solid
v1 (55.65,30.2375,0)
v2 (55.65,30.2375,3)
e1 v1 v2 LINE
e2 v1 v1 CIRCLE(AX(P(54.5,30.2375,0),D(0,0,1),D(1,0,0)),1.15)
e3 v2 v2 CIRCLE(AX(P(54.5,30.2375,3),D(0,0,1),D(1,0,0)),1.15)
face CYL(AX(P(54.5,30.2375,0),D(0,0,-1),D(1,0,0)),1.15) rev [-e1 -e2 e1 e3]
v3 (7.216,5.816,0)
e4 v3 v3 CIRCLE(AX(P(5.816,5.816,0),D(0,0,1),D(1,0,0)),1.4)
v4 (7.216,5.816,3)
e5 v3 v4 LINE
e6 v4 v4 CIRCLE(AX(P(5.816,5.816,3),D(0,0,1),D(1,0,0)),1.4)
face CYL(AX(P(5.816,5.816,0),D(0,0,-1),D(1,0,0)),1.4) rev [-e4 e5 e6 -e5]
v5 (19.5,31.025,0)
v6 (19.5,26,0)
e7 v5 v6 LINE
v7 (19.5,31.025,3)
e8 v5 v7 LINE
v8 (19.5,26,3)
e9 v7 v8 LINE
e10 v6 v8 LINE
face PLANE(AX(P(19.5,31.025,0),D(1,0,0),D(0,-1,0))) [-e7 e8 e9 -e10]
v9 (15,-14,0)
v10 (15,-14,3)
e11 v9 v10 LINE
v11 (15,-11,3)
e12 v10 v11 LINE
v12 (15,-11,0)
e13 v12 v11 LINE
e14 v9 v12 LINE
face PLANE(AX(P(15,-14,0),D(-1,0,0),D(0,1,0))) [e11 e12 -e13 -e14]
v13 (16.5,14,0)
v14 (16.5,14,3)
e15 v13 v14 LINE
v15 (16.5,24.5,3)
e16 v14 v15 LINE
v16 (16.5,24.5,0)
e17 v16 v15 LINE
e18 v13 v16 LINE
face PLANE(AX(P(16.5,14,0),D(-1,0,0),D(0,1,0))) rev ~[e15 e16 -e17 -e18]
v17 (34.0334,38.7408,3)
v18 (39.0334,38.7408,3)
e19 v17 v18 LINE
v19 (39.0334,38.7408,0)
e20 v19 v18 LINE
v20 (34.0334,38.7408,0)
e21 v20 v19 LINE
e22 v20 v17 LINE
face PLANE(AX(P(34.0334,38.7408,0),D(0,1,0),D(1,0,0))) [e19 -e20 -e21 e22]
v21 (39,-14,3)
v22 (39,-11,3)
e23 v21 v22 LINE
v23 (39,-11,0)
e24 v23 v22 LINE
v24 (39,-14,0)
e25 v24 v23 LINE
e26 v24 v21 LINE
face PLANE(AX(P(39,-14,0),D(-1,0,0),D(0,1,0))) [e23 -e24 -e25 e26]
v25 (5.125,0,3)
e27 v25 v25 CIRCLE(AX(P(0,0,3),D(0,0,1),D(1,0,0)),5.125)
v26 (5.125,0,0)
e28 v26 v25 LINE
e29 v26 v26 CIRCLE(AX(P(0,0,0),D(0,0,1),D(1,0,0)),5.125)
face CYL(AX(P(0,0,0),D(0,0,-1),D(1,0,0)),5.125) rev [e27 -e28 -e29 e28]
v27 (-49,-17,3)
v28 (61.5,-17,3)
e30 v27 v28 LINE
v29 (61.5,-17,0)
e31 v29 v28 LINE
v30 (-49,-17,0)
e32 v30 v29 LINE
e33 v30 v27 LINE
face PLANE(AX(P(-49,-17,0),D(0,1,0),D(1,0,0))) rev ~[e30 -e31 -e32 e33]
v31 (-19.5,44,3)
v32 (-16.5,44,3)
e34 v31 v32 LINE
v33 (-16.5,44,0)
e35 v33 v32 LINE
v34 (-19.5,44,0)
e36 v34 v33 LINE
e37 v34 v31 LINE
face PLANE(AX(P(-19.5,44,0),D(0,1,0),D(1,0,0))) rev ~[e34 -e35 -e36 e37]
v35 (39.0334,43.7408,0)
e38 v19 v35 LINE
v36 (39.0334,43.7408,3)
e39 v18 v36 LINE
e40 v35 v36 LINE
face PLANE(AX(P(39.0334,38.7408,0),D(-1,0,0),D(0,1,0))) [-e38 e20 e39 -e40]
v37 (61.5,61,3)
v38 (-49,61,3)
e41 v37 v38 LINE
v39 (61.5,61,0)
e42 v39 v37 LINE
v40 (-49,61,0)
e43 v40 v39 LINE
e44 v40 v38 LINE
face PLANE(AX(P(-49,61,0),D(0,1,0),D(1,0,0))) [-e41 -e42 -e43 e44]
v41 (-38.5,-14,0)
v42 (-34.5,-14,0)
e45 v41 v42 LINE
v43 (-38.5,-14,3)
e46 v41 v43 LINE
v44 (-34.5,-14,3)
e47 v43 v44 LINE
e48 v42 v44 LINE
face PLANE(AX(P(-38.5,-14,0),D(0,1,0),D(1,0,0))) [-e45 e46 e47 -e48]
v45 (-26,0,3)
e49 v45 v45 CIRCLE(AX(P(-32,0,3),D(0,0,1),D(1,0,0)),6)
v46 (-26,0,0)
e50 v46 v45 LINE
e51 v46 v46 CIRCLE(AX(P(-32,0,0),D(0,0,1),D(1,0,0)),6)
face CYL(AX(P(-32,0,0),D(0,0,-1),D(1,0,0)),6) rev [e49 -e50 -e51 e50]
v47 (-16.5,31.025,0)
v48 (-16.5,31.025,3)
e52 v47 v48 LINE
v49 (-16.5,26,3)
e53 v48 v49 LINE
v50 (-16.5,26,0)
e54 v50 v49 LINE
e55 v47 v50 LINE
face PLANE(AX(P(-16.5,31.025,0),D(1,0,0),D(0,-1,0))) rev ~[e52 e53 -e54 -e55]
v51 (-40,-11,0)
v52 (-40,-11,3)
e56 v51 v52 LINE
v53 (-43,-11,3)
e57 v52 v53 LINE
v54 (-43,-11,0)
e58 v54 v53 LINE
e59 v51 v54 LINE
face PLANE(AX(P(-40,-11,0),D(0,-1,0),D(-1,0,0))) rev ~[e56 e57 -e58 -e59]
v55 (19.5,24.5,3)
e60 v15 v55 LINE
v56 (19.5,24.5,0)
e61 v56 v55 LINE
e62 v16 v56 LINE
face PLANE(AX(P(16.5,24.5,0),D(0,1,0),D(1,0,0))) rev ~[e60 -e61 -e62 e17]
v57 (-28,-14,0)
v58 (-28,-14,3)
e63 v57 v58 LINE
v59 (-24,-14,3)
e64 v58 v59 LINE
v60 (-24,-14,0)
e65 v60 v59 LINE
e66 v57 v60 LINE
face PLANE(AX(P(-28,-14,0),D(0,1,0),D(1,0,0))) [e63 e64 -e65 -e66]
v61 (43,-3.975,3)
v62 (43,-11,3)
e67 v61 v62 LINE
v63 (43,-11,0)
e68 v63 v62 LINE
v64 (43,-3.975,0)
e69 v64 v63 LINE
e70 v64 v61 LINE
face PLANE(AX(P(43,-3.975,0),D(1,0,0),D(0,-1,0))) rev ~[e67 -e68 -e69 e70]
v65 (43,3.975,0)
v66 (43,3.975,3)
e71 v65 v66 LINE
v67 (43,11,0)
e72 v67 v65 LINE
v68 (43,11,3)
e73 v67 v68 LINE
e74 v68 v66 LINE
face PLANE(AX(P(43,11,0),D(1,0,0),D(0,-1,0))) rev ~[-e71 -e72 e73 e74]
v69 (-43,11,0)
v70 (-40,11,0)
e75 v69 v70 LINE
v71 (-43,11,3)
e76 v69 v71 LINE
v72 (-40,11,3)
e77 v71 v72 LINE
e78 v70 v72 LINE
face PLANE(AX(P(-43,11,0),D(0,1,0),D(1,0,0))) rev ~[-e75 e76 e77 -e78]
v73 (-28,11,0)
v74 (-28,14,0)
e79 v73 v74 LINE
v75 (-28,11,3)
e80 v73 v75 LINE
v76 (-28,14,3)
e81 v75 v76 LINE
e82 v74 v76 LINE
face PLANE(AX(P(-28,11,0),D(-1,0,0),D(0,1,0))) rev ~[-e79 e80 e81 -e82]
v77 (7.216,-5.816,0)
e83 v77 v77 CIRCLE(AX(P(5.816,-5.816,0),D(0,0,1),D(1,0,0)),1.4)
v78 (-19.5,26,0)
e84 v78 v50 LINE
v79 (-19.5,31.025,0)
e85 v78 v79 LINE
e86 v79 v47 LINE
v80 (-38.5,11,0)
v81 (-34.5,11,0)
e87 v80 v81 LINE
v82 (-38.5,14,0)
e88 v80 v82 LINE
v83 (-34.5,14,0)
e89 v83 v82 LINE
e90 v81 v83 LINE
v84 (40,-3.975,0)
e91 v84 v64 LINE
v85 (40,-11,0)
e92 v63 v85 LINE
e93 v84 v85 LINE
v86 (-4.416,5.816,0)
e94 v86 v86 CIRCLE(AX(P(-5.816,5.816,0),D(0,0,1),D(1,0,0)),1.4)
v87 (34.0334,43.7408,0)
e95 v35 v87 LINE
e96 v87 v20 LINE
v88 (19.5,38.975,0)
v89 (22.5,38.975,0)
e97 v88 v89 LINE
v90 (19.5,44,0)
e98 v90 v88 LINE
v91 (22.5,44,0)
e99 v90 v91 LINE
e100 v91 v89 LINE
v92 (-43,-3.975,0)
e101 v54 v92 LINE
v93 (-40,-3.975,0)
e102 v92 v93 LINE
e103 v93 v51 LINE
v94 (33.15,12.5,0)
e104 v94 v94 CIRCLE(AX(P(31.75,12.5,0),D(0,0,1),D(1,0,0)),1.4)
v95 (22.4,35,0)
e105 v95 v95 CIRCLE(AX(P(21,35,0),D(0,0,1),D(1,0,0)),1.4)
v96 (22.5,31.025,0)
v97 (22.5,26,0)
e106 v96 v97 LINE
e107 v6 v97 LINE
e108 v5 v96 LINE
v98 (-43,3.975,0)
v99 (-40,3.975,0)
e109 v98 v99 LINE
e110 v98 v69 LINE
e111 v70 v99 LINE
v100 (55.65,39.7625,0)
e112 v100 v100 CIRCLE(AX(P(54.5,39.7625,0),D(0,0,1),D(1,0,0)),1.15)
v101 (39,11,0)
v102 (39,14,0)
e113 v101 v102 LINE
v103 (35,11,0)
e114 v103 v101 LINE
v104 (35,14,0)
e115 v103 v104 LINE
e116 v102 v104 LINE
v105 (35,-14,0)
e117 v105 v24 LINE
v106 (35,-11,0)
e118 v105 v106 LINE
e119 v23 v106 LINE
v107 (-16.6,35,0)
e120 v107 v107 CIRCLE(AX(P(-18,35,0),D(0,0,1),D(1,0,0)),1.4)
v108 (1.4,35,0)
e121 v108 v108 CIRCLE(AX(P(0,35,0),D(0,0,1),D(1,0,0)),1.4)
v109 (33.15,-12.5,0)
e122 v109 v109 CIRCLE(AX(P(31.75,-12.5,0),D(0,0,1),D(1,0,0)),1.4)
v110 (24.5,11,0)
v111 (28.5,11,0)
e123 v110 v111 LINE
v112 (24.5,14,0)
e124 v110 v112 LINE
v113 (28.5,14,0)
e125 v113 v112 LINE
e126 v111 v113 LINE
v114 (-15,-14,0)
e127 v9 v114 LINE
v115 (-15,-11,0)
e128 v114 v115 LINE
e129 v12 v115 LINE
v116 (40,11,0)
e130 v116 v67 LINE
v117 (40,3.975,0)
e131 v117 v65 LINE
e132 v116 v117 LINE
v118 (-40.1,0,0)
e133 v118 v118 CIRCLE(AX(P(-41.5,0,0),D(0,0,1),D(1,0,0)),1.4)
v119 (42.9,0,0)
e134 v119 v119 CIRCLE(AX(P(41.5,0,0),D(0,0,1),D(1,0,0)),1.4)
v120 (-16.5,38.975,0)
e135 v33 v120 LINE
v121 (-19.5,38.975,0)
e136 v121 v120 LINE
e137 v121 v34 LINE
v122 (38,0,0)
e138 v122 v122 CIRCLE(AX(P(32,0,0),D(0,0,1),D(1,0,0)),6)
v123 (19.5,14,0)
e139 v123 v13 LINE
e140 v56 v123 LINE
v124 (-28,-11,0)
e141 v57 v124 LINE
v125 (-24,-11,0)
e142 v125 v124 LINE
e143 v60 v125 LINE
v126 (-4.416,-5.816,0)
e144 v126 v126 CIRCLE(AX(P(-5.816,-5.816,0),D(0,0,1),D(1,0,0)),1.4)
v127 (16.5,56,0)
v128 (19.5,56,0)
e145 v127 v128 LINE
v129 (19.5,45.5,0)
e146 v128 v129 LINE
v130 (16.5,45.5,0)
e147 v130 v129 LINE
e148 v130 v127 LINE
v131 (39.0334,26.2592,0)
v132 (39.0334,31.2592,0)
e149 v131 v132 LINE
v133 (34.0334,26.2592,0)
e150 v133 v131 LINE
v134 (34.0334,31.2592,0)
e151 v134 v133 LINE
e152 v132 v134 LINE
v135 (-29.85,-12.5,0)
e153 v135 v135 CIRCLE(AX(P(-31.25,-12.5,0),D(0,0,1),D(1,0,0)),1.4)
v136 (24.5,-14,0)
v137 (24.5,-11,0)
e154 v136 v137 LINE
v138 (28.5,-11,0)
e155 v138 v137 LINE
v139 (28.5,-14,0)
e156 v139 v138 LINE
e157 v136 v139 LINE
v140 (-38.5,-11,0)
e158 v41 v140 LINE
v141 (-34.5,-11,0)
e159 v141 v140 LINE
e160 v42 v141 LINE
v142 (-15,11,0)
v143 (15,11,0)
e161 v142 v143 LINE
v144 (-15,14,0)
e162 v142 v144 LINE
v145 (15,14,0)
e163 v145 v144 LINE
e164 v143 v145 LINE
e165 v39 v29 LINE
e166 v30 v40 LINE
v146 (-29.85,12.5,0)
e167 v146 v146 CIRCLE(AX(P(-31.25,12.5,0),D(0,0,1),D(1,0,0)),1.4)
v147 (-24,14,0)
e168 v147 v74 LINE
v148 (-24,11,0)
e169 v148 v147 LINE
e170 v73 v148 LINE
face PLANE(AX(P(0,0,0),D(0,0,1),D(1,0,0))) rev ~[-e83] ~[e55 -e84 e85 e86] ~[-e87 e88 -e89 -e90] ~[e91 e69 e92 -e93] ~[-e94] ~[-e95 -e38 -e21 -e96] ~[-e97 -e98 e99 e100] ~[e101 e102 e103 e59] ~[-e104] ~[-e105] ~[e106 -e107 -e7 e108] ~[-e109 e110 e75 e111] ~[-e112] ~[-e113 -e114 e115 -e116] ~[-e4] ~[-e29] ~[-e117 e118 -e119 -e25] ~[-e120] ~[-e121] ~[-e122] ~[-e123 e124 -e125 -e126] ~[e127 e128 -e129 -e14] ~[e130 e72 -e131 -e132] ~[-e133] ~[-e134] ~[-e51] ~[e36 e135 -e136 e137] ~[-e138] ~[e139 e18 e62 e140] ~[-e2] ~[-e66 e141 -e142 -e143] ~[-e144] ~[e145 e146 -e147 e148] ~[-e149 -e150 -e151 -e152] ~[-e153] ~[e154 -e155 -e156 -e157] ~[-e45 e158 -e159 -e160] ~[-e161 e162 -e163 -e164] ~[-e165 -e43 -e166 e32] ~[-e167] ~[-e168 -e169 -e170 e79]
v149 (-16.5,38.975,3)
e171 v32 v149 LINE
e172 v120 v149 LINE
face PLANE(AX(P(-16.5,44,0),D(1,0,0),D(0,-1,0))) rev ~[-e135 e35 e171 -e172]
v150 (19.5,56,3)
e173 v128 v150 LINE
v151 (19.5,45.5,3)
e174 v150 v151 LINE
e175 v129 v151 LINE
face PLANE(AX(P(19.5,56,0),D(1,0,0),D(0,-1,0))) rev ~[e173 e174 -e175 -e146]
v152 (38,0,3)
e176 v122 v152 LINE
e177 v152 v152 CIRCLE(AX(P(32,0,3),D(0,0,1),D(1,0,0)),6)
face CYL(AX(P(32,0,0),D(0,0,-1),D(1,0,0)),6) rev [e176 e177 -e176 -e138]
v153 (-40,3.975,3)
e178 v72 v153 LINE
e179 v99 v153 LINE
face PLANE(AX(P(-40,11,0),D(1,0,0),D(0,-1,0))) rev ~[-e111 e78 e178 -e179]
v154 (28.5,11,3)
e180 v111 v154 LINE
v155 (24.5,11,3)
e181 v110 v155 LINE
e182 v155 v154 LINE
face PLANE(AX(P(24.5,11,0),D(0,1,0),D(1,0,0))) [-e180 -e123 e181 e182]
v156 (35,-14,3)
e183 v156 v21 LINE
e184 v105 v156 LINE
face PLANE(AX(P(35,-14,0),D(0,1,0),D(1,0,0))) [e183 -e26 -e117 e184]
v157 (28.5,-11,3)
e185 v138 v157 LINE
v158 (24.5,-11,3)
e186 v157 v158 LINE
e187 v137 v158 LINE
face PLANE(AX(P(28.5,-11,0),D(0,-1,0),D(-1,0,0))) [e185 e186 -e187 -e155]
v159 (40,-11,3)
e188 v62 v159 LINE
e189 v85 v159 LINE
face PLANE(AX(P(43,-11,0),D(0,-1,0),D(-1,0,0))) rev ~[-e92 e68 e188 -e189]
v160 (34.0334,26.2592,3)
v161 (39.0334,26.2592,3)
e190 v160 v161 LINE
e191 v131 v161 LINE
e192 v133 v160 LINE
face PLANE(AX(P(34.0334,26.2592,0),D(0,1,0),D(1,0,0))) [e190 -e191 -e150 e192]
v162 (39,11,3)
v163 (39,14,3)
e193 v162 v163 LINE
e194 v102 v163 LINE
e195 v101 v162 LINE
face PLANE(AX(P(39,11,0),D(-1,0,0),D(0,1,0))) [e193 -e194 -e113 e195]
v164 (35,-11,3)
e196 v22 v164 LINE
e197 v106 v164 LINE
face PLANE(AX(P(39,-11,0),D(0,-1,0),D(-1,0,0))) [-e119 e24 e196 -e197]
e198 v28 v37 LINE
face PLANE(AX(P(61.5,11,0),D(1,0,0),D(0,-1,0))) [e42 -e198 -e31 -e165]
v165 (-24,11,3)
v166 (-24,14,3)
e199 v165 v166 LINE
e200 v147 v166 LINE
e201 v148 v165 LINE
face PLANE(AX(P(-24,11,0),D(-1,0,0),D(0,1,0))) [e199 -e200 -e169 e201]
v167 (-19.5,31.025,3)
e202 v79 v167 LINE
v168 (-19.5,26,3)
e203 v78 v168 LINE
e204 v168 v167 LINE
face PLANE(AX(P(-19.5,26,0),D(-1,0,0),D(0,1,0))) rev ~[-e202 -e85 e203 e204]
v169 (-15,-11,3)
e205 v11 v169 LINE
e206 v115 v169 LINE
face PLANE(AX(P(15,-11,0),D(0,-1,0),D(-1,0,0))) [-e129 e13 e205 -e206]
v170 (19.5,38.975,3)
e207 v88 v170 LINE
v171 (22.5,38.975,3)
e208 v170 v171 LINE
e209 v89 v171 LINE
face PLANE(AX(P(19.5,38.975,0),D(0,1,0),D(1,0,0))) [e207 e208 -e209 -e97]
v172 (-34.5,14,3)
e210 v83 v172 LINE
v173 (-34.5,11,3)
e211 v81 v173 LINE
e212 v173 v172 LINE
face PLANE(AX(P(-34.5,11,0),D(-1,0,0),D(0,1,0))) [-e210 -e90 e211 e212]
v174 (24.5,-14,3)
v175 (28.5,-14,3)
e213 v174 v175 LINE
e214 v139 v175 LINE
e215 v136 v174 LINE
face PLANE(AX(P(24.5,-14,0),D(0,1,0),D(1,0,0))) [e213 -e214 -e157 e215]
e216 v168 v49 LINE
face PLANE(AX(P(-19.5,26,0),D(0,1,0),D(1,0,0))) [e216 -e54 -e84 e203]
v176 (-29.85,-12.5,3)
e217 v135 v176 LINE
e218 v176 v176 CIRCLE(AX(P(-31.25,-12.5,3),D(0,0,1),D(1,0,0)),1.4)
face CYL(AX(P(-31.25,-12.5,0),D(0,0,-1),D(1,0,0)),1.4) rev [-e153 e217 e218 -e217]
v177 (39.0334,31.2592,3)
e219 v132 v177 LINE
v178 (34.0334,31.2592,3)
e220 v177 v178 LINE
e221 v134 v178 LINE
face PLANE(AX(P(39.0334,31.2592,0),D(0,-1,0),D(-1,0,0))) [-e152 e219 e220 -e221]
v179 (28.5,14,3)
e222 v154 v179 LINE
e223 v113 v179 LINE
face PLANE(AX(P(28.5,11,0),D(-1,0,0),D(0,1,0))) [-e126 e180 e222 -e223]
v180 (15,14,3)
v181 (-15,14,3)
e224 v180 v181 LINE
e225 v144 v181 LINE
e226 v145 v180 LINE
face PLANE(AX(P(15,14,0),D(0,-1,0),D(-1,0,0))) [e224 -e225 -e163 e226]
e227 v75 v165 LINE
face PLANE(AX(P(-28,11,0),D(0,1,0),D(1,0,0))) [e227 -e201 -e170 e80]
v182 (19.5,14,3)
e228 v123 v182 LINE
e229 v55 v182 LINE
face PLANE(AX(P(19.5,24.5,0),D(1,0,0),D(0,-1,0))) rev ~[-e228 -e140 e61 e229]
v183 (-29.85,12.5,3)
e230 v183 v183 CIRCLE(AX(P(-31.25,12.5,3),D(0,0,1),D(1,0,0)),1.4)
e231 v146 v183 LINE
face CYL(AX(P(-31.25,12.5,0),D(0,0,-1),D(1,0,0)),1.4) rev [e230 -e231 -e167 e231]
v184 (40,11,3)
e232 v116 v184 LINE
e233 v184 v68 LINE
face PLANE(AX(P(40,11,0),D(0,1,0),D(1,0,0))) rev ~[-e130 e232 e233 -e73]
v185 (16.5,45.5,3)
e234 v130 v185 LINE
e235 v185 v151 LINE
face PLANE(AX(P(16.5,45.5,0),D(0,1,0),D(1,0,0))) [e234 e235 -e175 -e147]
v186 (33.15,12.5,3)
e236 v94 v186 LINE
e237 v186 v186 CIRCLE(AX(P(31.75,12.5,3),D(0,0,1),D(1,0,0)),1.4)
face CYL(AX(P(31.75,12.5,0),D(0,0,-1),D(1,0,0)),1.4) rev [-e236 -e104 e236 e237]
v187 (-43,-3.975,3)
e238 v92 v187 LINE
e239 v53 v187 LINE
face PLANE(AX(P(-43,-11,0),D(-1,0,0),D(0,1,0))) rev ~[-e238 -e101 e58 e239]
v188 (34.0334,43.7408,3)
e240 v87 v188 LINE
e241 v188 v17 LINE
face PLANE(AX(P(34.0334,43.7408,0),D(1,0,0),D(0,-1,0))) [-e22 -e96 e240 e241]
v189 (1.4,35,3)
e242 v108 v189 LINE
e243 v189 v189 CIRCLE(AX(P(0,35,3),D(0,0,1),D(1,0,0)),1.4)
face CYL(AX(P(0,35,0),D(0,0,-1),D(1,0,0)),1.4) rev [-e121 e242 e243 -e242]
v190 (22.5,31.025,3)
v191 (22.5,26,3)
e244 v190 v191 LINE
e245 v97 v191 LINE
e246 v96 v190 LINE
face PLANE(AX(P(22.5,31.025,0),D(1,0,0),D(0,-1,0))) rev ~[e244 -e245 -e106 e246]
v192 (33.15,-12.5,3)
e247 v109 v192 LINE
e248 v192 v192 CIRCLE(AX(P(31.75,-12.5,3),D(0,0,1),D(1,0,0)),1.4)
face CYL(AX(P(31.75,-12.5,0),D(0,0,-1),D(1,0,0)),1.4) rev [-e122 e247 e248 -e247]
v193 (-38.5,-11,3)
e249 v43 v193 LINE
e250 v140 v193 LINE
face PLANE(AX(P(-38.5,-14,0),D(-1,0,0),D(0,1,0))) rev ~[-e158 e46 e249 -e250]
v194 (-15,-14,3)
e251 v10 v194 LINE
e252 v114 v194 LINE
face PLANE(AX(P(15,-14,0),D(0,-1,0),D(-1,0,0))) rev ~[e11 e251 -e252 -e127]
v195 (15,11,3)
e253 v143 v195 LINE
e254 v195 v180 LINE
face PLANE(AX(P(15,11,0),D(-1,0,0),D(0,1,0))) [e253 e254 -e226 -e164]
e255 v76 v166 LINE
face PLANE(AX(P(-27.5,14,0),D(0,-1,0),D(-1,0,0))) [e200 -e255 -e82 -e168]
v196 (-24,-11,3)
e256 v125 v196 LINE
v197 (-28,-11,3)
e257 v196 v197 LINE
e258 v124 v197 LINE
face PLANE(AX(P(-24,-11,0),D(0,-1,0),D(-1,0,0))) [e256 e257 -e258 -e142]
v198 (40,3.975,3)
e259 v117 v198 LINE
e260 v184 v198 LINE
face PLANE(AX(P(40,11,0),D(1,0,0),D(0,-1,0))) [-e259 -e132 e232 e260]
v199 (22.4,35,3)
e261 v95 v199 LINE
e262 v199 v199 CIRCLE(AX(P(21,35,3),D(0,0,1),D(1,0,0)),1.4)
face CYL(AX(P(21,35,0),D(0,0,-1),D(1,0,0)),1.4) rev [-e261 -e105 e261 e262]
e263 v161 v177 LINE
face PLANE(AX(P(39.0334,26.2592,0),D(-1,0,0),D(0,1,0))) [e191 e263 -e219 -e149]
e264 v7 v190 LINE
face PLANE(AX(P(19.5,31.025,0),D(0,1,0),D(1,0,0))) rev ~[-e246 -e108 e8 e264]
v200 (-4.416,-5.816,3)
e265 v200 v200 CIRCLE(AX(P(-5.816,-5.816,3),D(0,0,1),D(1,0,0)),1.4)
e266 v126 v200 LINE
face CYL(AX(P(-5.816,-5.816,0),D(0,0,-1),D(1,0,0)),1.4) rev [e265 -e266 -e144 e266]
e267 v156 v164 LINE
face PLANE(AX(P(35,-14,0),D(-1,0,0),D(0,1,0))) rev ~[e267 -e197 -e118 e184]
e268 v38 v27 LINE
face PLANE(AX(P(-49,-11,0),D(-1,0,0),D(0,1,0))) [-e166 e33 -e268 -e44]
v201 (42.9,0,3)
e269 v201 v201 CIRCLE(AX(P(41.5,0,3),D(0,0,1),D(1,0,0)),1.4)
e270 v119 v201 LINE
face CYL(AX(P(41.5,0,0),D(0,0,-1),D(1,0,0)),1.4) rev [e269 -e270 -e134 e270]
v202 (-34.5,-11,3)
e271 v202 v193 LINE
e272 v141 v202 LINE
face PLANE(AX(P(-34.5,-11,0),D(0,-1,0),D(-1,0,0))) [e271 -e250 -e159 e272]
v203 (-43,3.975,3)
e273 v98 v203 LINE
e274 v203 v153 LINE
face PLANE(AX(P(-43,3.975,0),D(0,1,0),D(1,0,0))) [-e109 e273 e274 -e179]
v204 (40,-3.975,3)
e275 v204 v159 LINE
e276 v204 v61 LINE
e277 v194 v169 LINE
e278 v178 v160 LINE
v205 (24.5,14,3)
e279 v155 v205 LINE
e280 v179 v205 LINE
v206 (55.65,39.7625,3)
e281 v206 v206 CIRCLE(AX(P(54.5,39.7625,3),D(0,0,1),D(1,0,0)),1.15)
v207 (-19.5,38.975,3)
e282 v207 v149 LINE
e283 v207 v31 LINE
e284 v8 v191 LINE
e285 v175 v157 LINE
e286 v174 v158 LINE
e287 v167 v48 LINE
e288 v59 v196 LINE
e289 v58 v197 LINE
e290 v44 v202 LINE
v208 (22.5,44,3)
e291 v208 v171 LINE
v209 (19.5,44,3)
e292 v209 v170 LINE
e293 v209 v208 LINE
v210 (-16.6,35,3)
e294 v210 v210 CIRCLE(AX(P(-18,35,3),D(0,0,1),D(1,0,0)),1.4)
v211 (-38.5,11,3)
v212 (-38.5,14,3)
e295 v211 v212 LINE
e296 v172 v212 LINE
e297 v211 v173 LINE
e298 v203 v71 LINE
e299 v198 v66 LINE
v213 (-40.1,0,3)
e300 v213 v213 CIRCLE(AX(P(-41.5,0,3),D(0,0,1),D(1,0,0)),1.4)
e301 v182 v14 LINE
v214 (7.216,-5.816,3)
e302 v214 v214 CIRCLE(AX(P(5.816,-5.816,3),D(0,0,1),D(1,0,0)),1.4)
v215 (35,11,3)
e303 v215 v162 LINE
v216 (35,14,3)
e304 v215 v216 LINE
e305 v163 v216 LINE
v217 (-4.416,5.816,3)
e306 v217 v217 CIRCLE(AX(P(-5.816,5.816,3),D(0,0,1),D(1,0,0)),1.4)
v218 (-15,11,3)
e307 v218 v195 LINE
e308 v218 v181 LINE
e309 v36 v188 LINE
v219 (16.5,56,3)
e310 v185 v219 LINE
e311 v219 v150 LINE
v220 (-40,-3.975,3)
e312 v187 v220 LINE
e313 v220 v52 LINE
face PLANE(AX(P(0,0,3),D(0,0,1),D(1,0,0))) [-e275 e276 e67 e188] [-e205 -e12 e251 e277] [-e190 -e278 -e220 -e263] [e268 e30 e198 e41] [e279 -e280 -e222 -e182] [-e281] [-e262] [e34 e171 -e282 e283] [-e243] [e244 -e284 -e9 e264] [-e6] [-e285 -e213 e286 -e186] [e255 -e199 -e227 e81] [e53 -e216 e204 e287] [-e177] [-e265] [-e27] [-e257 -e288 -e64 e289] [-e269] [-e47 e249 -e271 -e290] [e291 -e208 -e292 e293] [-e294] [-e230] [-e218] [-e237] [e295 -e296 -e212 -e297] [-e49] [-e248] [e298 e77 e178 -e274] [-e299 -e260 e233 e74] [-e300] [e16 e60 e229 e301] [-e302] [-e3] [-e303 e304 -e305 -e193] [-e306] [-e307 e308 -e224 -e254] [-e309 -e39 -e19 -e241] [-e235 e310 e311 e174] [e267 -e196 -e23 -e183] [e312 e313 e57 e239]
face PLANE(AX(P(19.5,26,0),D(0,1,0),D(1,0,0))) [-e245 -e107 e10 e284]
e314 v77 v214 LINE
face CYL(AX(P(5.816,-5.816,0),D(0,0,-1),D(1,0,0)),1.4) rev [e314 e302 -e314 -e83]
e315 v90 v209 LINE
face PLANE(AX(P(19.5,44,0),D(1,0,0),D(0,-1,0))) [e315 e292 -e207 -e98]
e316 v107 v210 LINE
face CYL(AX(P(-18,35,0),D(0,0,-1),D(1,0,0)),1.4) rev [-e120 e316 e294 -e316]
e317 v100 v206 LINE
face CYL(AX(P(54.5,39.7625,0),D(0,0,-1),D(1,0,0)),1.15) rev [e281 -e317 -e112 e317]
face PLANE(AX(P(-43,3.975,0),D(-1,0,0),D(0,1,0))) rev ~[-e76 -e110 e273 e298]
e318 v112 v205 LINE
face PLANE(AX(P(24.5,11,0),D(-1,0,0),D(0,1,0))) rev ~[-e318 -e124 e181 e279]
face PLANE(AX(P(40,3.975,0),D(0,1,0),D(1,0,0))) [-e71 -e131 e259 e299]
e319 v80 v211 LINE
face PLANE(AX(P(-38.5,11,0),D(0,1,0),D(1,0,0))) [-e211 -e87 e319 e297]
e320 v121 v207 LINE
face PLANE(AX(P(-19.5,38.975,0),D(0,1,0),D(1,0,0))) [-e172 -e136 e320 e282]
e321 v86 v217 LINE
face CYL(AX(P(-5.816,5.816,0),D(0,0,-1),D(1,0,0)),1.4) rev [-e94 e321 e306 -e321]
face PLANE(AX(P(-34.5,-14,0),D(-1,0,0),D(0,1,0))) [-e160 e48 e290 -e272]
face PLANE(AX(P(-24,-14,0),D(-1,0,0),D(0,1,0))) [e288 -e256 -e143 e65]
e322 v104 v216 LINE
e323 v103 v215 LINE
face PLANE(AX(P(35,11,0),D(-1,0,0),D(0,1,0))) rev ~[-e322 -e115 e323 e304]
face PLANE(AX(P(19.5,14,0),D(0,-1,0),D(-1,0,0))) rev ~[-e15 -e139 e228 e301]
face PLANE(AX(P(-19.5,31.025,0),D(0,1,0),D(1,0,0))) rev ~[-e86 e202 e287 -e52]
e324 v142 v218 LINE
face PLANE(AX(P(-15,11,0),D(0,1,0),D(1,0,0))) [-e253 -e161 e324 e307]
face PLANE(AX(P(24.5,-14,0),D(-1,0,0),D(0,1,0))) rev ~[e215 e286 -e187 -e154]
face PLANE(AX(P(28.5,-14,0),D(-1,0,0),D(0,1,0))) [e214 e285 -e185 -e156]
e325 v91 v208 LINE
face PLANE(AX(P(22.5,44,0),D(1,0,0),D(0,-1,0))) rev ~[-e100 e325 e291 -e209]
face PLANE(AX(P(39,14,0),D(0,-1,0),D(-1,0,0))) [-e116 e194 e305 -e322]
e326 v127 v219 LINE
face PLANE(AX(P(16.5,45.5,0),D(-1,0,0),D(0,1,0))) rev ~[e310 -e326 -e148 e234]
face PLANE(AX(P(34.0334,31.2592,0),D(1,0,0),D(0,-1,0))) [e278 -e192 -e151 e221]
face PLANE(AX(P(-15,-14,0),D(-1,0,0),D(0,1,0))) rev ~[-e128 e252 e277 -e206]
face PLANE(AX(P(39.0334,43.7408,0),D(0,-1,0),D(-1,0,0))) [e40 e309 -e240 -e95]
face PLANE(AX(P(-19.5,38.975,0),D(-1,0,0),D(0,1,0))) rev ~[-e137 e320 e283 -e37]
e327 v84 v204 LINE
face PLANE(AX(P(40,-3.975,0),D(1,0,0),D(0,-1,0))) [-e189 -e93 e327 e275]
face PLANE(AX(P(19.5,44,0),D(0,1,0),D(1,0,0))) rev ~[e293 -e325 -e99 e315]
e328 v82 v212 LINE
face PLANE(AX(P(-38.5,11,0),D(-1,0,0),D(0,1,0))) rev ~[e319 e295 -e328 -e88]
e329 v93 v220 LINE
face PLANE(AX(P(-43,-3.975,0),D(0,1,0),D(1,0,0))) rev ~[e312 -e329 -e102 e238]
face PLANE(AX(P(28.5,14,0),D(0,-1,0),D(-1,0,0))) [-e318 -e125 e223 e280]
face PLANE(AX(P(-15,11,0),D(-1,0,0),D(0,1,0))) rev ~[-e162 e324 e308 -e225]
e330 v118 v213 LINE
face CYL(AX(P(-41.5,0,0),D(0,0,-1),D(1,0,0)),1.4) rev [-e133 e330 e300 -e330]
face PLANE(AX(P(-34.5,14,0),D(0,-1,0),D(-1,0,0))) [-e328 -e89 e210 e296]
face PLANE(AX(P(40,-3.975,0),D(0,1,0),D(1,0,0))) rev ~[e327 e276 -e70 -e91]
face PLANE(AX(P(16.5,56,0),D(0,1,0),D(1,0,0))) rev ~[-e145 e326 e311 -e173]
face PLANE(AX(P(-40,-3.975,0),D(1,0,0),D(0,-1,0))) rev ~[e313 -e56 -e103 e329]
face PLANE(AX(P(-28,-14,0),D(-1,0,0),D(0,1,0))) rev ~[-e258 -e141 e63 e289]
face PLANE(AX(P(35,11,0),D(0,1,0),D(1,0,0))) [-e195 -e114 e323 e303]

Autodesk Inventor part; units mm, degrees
ref_plane "YZ Plane" through (0, 0, 0) normal (1, 0, 0) x (0, 1, 0)
ref_plane "XZ Plane" through (0, 0, 0) normal (0, 1, 0) x (-1, 0, 0)
ref_plane "XY Plane" through (0, 0, 0) normal (0, 0, 1) x (1, 0, 0)
sketch "Sketch1" plane through (0, 0, 0) normal (0, 0, 1) x (1, 0, 0)
  circle A0 centre (0, 0) radius 5.125
  circle A1 centre (32, 0) radius 6
  circle A2 centre (-32, 0) radius 6
  line L0 (-71.1, 0) -> (83.6, 0) construction
  line L1 (-43, 11) -> (61.5, 11)
  line L2 (61.5, 11) -> (61.5, -11)
  line L3 (61.5, -11) -> (-43, -11)
  line L4 (-43, -11) -> (-43, 11)
  line L5 (5.816, 5.816) -> (-5.816, 5.816) construction
  line L6 (-5.816, 5.816) -> (-5.816, -5.816) construction
  line L7 (-5.816, -5.816) -> (5.816, -5.816) construction
  line L8 (5.816, -5.816) -> (5.816, 5.816) construction
  line L9 (5.816, 5.816) -> (-5.816, -5.816) construction
  line L10 (-5.816, 5.816) -> (5.816, -5.816) construction
  circle A3 centre (-5.816, 5.816) radius 1.4
  circle A4 centre (-5.816, -5.816) radius 1.4
  circle A5 centre (5.816, -5.816) radius 1.4
  circle A6 centre (5.816, 5.816) radius 1.4
  line L11 (0, -32.6) -> (0, 76.6) construction
  line L12 (61.5, 11) -> (61.5, 14)
  line L13 (61.5, 14) -> (-43, 14)
  line L14 (-43, 14) -> (-43, 11)
  line L15 (16.5, 14) -> (16.5, 56)
  line L16 (16.5, 56) -> (-16.5, 56)
  line L17 (-16.5, 56) -> (-16.5, 14)
  line L18 (16.5, 56) -> (61.5, 56)
  line L19 (61.5, 56) -> (61.5, 14)
  line L20 (-16.5, 35) -> (61.5, 35) construction
  line L21 (54.5, 39.7625) -> (54.5, 35) construction
  line L22 (54.5, 35) -> (54.5, 30.2375) construction
  circle A7 centre (54.5, 39.7625) radius 1.15
  circle A8 centre (54.5, 30.2375) radius 1.15
  line L23 (-16.5, 56) -> (-27.5, 56)
  line L24 (-27.5, 56) -> (-27.5, 14)
  line L25 (61.5, 56) -> (61.5, 61)
  line L26 (61.5, 61) -> (-27.5, 61)
  line L27 (-27.5, 61) -> (-27.5, 56)
  line L28 (-43, -11) -> (-49, -11)
  line L29 (-49, -11) -> (-49, 61)
  line L30 (-49, 61) -> (-27.5, 61)
  line L31 (-49, -11) -> (-49, -17)
  line L32 (-49, -17) -> (61.5, -17)
  line L33 (61.5, -17) -> (61.5, -11)
  line L34 (-34.5, -14) -> (-34.5, -11) projected
  line L35 (-38.5, -14) -> (-38.5, -11) projected
  line L36 (-24, -14) -> (-24, -11) projected
  line L37 (-28, -14) -> (-28, -11) projected
  line L38 (28.5, -14) -> (28.5, -11) projected
  line L39 (24.5, -14) -> (24.5, -11) projected
  line L40 (39, -14) -> (39, -11) projected
  line L41 (35, -14) -> (35, -11) projected
  line L42 (35, 11) -> (39, 11) projected
  line L43 (39, 11) -> (39, 14) projected
  line L44 (35, 14) -> (39, 14) projected
  line L45 (35, 11) -> (35, 14) projected
  line L46 (24.5, 11) -> (28.5, 11) projected
  line L47 (28.5, 11) -> (28.5, 14) projected
  line L48 (24.5, 14) -> (28.5, 14) projected
  line L49 (24.5, 11) -> (24.5, 14) projected
  line L50 (-28, 11) -> (-24, 11) projected
  line L51 (-24, 11) -> (-24, 14) projected
  line L52 (-28, 14) -> (-24, 14) projected
  line L53 (-28, 11) -> (-28, 14) projected
  line L54 (-38.5, 11) -> (-34.5, 11) projected
  line L55 (-34.5, 11) -> (-34.5, 14) projected
  line L56 (-38.5, 14) -> (-34.5, 14) projected
  line L57 (-38.5, 11) -> (-38.5, 14) projected
  line L58 (-34.5, 14) -> (-28, 11) construction
  line L59 (-28, 14) -> (-34.5, 11) construction
  line L60 (-28, -11) -> (-34.5, -14) construction
  line L61 (-34.5, -11) -> (-28, -14) construction
  line L62 (28.5, -11) -> (35, -14) construction
  line L63 (35, -11) -> (28.5, -14) construction
  line L64 (35, 14) -> (28.5, 11) construction
  line L65 (28.5, 14) -> (35, 11) construction
  circle A9 centre (-31.25, 12.5) radius 1.4
  circle A10 centre (31.75, 12.5) radius 1.4
  circle A11 centre (31.75, -12.5) radius 1.4
  circle A12 centre (-31.25, -12.5) radius 1.4
  line L66 (19.5, 44) -> (19.5, 38.975) projected
  line L67 (19.5, 38.975) -> (22.5, 38.975) projected
  line L68 (22.5, 44) -> (22.5, 38.975) projected
  line L69 (19.5, 44) -> (22.5, 44) projected
  line L70 (19.5, 31.025) -> (19.5, 26) projected
  line L71 (19.5, 26) -> (22.5, 26) projected
  line L72 (22.5, 31.025) -> (22.5, 26) projected
  line L73 (19.5, 31.025) -> (22.5, 31.025) projected
  line L74 (40, -3.975) -> (40, -11) projected
  line L75 (40, -11) -> (43, -11) projected
  line L76 (43, -3.975) -> (43, -11) projected
  line L77 (40, -3.975) -> (43, -3.975) projected
  line L78 (40, 11) -> (40, 3.975) projected
  line L79 (40, 3.975) -> (43, 3.975) projected
  line L80 (43, 11) -> (43, 3.975) projected
  line L81 (40, 11) -> (43, 11) projected
  line L82 (-43, 11) -> (-43, 3.975) projected
  line L83 (-43, 3.975) -> (-40, 3.975) projected
  line L84 (-40, 11) -> (-40, 3.975) projected
  line L85 (-43, 11) -> (-40, 11) projected
  line L86 (-43, -3.975) -> (-43, -11) projected
  line L87 (-43, -11) -> (-40, -11) projected
  line L88 (-40, -3.975) -> (-40, -11) projected
  line L89 (-43, -3.975) -> (-40, -3.975) projected
  line L90 (16.5, 56) -> (16.5, 45.5) projected
  line L91 (16.5, 45.5) -> (19.5, 45.5) projected
  line L92 (19.5, 56) -> (19.5, 45.5) projected
  line L93 (16.5, 56) -> (19.5, 56) projected
  line L94 (16.5, 24.5) -> (16.5, 14) projected
  line L95 (16.5, 14) -> (19.5, 14) projected
  line L96 (19.5, 24.5) -> (19.5, 14) projected
  line L97 (16.5, 24.5) -> (19.5, 24.5) projected
  line L98 (22.5, 38.975) -> (19.5, 31.025) construction
  line L99 (19.5, 38.975) -> (22.5, 31.025) construction
  line L100 (43, 3.975) -> (40, -3.975) construction
  line L101 (43, -3.975) -> (40, 3.975) construction
  line L102 (-40, 3.975) -> (-43, -3.975) construction
  line L103 (-40, -3.975) -> (-43, 3.975) construction
  circle A13 centre (-41.5, 0) radius 1.4
  circle A14 centre (41.5, 0) radius 1.4
  circle A15 centre (21, 35) radius 1.4
  line L104 (-38.5, -14) -> (-34.5, -14) projected
  line L105 (-38.5, -11) -> (-34.5, -11) projected
  line L106 (35, -14) -> (39, -14) projected
  line L107 (35, -11) -> (39, -11) projected
  line L108 (24.5, -14) -> (28.5, -14) projected
  line L109 (24.5, -11) -> (28.5, -11) projected
  line L110 (-28, -14) -> (-24, -14) projected
  line L111 (-28, -11) -> (-24, -11) projected
  line L112 (15, 11) -> (-15, 11) projected
  line L113 (-15, 11) -> (-15, 14) projected
  line L114 (15, 14) -> (-15, 14) projected
  line L115 (15, 11) -> (15, 14) projected
  line L116 (15, -14) -> (-15, -14) projected
  line L117 (-15, -14) -> (-15, -11) projected
  line L118 (15, -11) -> (-15, -11) projected
  line L119 (15, -14) -> (15, -11) projected
  line L120 (-19.5, 38.975) -> (-19.5, 44) projected
  line L121 (-19.5, 44) -> (-16.5, 44) projected
  line L122 (-16.5, 38.975) -> (-16.5, 44) projected
  line L123 (-19.5, 38.975) -> (-16.5, 38.975) projected
  line L124 (-19.5, 26) -> (-19.5, 31.025) projected
  line L125 (-19.5, 31.025) -> (-16.5, 31.025) projected
  line L126 (-16.5, 26) -> (-16.5, 31.025) projected
  line L127 (-19.5, 26) -> (-16.5, 26) projected
  line L128 (-16.5, 38.975) -> (-19.5, 31.025) construction
  line L129 (-19.5, 38.975) -> (-16.5, 31.025) construction
  circle A16 centre (-18, 35) radius 1.4
  circle A17 centre (0, 35) radius 1.4
  dimension "d0" = 10.25
  dimension "d1" = 12
  dimension "d2" = 12
  dimension "d3" = 32
  dimension "d4" = 32
  dimension "d8" = 11.6319
  dimension "d9" = 11.6319
  dimension "d10" = 2.8
  dimension "d11" = 2.8
  dimension "d12" = 2.8
  dimension "d13" = 2.8
  dimension "d20" = 9.525
  dimension "d21" = 2.3
  dimension "d22" = 2.3
  dimension "d23" = 7
  dimension "d27" = 6
  dimension "d28" = 6
  dimension "d29" = 2.8
  dimension "d30" = 2.8
  dimension "d31" = 2.8
  dimension "d32" = 2.8
  dimension "d33" = 2.8
  dimension "d34" = 2.8
  dimension "d35" = 2.8
  dimension "d49" = 11
  dimension "d50" = 5
  dimension "d51" = 45
  dimension "d52" = 2.8
  dimension "d53" = 2.8
extrude "Extrusion1" add sketch "Sketch1" along normal blind 3 contours L14 L13 L57 L1 | L4 L28 L29 L30 L27 L24 L13 L14 | L1 L78 L79 L80 L2 L3 L76 L77 L74 L88 L89 L4 L83 L84 | L55 L13 L53 L1 | L3 L35 L104 L34 L37 L110 L36 L117 L116 L119 L39 L108 L38 L41 L106 L40 L33 L32 L31 L28 | L51 L13 L113 L1 | L24 L23 L17 L121 L120 L123 L125 L124 L127 L13 | L26 L25 L18 L16 L23 L27 | L115 L13 L49 L1 | L13 L17 L16 L15 | L19 L13 L96 L97 L15 L91 L92 L18 | L1 L43 L13 L12 | L47 L13 L45 L1
sketch "Sketch4" plane through (0, 0, 0) normal (0, 0, -1) x (-1, 0, 0)
  circle A0 centre (-54.5, 39.7625) radius 1.15 projected
  circle A1 centre (-54.5, 30.2375) radius 1.15 projected
  circle A2 centre (-21, 35) radius 1.4 projected
  line L0 (-21, 35) -> (-54.5, 35) construction
  line L1 (-39.0334, 43.7408) -> (-34.0334, 43.7408)
  line L2 (-34.0334, 43.7408) -> (-34.0334, 38.7408)
  line L3 (-34.0334, 38.7408) -> (-39.0334, 38.7408)
  line L4 (-39.0334, 38.7408) -> (-39.0334, 43.7408)
  line L5 (-39.0334, 43.7408) -> (-34.0334, 38.7408) construction
  line L6 (-34.0334, 43.7408) -> (-39.0334, 38.7408) construction
  line L7 (-39.0334, 31.2592) -> (-34.0334, 31.2592)
  line L8 (-34.0334, 31.2592) -> (-34.0334, 26.2592)
  line L9 (-34.0334, 26.2592) -> (-39.0334, 26.2592)
  line L10 (-39.0334, 26.2592) -> (-39.0334, 31.2592)
  line L11 (-39.0334, 31.2592) -> (-34.0334, 26.2592) construction
  line L12 (-34.0334, 31.2592) -> (-39.0334, 26.2592) construction
  line L13 (-36.5334, 41.2408) -> (-36.5334, 35) construction
  line L14 (-36.5334, 35) -> (-36.5334, 28.7592) construction
  point P0 (0, 0)
  dimension "d43" = 5
  dimension "d44" = 5
  dimension "d45" = 5
  dimension "d46" = 5
extrude "Extrusion3" cut sketch "Sketch4" against normal blind 3 contours L1 L2 L3 L4 | L7 L8 L9 L10
equation "\"d1\" = d2"
properties part number "Side"
